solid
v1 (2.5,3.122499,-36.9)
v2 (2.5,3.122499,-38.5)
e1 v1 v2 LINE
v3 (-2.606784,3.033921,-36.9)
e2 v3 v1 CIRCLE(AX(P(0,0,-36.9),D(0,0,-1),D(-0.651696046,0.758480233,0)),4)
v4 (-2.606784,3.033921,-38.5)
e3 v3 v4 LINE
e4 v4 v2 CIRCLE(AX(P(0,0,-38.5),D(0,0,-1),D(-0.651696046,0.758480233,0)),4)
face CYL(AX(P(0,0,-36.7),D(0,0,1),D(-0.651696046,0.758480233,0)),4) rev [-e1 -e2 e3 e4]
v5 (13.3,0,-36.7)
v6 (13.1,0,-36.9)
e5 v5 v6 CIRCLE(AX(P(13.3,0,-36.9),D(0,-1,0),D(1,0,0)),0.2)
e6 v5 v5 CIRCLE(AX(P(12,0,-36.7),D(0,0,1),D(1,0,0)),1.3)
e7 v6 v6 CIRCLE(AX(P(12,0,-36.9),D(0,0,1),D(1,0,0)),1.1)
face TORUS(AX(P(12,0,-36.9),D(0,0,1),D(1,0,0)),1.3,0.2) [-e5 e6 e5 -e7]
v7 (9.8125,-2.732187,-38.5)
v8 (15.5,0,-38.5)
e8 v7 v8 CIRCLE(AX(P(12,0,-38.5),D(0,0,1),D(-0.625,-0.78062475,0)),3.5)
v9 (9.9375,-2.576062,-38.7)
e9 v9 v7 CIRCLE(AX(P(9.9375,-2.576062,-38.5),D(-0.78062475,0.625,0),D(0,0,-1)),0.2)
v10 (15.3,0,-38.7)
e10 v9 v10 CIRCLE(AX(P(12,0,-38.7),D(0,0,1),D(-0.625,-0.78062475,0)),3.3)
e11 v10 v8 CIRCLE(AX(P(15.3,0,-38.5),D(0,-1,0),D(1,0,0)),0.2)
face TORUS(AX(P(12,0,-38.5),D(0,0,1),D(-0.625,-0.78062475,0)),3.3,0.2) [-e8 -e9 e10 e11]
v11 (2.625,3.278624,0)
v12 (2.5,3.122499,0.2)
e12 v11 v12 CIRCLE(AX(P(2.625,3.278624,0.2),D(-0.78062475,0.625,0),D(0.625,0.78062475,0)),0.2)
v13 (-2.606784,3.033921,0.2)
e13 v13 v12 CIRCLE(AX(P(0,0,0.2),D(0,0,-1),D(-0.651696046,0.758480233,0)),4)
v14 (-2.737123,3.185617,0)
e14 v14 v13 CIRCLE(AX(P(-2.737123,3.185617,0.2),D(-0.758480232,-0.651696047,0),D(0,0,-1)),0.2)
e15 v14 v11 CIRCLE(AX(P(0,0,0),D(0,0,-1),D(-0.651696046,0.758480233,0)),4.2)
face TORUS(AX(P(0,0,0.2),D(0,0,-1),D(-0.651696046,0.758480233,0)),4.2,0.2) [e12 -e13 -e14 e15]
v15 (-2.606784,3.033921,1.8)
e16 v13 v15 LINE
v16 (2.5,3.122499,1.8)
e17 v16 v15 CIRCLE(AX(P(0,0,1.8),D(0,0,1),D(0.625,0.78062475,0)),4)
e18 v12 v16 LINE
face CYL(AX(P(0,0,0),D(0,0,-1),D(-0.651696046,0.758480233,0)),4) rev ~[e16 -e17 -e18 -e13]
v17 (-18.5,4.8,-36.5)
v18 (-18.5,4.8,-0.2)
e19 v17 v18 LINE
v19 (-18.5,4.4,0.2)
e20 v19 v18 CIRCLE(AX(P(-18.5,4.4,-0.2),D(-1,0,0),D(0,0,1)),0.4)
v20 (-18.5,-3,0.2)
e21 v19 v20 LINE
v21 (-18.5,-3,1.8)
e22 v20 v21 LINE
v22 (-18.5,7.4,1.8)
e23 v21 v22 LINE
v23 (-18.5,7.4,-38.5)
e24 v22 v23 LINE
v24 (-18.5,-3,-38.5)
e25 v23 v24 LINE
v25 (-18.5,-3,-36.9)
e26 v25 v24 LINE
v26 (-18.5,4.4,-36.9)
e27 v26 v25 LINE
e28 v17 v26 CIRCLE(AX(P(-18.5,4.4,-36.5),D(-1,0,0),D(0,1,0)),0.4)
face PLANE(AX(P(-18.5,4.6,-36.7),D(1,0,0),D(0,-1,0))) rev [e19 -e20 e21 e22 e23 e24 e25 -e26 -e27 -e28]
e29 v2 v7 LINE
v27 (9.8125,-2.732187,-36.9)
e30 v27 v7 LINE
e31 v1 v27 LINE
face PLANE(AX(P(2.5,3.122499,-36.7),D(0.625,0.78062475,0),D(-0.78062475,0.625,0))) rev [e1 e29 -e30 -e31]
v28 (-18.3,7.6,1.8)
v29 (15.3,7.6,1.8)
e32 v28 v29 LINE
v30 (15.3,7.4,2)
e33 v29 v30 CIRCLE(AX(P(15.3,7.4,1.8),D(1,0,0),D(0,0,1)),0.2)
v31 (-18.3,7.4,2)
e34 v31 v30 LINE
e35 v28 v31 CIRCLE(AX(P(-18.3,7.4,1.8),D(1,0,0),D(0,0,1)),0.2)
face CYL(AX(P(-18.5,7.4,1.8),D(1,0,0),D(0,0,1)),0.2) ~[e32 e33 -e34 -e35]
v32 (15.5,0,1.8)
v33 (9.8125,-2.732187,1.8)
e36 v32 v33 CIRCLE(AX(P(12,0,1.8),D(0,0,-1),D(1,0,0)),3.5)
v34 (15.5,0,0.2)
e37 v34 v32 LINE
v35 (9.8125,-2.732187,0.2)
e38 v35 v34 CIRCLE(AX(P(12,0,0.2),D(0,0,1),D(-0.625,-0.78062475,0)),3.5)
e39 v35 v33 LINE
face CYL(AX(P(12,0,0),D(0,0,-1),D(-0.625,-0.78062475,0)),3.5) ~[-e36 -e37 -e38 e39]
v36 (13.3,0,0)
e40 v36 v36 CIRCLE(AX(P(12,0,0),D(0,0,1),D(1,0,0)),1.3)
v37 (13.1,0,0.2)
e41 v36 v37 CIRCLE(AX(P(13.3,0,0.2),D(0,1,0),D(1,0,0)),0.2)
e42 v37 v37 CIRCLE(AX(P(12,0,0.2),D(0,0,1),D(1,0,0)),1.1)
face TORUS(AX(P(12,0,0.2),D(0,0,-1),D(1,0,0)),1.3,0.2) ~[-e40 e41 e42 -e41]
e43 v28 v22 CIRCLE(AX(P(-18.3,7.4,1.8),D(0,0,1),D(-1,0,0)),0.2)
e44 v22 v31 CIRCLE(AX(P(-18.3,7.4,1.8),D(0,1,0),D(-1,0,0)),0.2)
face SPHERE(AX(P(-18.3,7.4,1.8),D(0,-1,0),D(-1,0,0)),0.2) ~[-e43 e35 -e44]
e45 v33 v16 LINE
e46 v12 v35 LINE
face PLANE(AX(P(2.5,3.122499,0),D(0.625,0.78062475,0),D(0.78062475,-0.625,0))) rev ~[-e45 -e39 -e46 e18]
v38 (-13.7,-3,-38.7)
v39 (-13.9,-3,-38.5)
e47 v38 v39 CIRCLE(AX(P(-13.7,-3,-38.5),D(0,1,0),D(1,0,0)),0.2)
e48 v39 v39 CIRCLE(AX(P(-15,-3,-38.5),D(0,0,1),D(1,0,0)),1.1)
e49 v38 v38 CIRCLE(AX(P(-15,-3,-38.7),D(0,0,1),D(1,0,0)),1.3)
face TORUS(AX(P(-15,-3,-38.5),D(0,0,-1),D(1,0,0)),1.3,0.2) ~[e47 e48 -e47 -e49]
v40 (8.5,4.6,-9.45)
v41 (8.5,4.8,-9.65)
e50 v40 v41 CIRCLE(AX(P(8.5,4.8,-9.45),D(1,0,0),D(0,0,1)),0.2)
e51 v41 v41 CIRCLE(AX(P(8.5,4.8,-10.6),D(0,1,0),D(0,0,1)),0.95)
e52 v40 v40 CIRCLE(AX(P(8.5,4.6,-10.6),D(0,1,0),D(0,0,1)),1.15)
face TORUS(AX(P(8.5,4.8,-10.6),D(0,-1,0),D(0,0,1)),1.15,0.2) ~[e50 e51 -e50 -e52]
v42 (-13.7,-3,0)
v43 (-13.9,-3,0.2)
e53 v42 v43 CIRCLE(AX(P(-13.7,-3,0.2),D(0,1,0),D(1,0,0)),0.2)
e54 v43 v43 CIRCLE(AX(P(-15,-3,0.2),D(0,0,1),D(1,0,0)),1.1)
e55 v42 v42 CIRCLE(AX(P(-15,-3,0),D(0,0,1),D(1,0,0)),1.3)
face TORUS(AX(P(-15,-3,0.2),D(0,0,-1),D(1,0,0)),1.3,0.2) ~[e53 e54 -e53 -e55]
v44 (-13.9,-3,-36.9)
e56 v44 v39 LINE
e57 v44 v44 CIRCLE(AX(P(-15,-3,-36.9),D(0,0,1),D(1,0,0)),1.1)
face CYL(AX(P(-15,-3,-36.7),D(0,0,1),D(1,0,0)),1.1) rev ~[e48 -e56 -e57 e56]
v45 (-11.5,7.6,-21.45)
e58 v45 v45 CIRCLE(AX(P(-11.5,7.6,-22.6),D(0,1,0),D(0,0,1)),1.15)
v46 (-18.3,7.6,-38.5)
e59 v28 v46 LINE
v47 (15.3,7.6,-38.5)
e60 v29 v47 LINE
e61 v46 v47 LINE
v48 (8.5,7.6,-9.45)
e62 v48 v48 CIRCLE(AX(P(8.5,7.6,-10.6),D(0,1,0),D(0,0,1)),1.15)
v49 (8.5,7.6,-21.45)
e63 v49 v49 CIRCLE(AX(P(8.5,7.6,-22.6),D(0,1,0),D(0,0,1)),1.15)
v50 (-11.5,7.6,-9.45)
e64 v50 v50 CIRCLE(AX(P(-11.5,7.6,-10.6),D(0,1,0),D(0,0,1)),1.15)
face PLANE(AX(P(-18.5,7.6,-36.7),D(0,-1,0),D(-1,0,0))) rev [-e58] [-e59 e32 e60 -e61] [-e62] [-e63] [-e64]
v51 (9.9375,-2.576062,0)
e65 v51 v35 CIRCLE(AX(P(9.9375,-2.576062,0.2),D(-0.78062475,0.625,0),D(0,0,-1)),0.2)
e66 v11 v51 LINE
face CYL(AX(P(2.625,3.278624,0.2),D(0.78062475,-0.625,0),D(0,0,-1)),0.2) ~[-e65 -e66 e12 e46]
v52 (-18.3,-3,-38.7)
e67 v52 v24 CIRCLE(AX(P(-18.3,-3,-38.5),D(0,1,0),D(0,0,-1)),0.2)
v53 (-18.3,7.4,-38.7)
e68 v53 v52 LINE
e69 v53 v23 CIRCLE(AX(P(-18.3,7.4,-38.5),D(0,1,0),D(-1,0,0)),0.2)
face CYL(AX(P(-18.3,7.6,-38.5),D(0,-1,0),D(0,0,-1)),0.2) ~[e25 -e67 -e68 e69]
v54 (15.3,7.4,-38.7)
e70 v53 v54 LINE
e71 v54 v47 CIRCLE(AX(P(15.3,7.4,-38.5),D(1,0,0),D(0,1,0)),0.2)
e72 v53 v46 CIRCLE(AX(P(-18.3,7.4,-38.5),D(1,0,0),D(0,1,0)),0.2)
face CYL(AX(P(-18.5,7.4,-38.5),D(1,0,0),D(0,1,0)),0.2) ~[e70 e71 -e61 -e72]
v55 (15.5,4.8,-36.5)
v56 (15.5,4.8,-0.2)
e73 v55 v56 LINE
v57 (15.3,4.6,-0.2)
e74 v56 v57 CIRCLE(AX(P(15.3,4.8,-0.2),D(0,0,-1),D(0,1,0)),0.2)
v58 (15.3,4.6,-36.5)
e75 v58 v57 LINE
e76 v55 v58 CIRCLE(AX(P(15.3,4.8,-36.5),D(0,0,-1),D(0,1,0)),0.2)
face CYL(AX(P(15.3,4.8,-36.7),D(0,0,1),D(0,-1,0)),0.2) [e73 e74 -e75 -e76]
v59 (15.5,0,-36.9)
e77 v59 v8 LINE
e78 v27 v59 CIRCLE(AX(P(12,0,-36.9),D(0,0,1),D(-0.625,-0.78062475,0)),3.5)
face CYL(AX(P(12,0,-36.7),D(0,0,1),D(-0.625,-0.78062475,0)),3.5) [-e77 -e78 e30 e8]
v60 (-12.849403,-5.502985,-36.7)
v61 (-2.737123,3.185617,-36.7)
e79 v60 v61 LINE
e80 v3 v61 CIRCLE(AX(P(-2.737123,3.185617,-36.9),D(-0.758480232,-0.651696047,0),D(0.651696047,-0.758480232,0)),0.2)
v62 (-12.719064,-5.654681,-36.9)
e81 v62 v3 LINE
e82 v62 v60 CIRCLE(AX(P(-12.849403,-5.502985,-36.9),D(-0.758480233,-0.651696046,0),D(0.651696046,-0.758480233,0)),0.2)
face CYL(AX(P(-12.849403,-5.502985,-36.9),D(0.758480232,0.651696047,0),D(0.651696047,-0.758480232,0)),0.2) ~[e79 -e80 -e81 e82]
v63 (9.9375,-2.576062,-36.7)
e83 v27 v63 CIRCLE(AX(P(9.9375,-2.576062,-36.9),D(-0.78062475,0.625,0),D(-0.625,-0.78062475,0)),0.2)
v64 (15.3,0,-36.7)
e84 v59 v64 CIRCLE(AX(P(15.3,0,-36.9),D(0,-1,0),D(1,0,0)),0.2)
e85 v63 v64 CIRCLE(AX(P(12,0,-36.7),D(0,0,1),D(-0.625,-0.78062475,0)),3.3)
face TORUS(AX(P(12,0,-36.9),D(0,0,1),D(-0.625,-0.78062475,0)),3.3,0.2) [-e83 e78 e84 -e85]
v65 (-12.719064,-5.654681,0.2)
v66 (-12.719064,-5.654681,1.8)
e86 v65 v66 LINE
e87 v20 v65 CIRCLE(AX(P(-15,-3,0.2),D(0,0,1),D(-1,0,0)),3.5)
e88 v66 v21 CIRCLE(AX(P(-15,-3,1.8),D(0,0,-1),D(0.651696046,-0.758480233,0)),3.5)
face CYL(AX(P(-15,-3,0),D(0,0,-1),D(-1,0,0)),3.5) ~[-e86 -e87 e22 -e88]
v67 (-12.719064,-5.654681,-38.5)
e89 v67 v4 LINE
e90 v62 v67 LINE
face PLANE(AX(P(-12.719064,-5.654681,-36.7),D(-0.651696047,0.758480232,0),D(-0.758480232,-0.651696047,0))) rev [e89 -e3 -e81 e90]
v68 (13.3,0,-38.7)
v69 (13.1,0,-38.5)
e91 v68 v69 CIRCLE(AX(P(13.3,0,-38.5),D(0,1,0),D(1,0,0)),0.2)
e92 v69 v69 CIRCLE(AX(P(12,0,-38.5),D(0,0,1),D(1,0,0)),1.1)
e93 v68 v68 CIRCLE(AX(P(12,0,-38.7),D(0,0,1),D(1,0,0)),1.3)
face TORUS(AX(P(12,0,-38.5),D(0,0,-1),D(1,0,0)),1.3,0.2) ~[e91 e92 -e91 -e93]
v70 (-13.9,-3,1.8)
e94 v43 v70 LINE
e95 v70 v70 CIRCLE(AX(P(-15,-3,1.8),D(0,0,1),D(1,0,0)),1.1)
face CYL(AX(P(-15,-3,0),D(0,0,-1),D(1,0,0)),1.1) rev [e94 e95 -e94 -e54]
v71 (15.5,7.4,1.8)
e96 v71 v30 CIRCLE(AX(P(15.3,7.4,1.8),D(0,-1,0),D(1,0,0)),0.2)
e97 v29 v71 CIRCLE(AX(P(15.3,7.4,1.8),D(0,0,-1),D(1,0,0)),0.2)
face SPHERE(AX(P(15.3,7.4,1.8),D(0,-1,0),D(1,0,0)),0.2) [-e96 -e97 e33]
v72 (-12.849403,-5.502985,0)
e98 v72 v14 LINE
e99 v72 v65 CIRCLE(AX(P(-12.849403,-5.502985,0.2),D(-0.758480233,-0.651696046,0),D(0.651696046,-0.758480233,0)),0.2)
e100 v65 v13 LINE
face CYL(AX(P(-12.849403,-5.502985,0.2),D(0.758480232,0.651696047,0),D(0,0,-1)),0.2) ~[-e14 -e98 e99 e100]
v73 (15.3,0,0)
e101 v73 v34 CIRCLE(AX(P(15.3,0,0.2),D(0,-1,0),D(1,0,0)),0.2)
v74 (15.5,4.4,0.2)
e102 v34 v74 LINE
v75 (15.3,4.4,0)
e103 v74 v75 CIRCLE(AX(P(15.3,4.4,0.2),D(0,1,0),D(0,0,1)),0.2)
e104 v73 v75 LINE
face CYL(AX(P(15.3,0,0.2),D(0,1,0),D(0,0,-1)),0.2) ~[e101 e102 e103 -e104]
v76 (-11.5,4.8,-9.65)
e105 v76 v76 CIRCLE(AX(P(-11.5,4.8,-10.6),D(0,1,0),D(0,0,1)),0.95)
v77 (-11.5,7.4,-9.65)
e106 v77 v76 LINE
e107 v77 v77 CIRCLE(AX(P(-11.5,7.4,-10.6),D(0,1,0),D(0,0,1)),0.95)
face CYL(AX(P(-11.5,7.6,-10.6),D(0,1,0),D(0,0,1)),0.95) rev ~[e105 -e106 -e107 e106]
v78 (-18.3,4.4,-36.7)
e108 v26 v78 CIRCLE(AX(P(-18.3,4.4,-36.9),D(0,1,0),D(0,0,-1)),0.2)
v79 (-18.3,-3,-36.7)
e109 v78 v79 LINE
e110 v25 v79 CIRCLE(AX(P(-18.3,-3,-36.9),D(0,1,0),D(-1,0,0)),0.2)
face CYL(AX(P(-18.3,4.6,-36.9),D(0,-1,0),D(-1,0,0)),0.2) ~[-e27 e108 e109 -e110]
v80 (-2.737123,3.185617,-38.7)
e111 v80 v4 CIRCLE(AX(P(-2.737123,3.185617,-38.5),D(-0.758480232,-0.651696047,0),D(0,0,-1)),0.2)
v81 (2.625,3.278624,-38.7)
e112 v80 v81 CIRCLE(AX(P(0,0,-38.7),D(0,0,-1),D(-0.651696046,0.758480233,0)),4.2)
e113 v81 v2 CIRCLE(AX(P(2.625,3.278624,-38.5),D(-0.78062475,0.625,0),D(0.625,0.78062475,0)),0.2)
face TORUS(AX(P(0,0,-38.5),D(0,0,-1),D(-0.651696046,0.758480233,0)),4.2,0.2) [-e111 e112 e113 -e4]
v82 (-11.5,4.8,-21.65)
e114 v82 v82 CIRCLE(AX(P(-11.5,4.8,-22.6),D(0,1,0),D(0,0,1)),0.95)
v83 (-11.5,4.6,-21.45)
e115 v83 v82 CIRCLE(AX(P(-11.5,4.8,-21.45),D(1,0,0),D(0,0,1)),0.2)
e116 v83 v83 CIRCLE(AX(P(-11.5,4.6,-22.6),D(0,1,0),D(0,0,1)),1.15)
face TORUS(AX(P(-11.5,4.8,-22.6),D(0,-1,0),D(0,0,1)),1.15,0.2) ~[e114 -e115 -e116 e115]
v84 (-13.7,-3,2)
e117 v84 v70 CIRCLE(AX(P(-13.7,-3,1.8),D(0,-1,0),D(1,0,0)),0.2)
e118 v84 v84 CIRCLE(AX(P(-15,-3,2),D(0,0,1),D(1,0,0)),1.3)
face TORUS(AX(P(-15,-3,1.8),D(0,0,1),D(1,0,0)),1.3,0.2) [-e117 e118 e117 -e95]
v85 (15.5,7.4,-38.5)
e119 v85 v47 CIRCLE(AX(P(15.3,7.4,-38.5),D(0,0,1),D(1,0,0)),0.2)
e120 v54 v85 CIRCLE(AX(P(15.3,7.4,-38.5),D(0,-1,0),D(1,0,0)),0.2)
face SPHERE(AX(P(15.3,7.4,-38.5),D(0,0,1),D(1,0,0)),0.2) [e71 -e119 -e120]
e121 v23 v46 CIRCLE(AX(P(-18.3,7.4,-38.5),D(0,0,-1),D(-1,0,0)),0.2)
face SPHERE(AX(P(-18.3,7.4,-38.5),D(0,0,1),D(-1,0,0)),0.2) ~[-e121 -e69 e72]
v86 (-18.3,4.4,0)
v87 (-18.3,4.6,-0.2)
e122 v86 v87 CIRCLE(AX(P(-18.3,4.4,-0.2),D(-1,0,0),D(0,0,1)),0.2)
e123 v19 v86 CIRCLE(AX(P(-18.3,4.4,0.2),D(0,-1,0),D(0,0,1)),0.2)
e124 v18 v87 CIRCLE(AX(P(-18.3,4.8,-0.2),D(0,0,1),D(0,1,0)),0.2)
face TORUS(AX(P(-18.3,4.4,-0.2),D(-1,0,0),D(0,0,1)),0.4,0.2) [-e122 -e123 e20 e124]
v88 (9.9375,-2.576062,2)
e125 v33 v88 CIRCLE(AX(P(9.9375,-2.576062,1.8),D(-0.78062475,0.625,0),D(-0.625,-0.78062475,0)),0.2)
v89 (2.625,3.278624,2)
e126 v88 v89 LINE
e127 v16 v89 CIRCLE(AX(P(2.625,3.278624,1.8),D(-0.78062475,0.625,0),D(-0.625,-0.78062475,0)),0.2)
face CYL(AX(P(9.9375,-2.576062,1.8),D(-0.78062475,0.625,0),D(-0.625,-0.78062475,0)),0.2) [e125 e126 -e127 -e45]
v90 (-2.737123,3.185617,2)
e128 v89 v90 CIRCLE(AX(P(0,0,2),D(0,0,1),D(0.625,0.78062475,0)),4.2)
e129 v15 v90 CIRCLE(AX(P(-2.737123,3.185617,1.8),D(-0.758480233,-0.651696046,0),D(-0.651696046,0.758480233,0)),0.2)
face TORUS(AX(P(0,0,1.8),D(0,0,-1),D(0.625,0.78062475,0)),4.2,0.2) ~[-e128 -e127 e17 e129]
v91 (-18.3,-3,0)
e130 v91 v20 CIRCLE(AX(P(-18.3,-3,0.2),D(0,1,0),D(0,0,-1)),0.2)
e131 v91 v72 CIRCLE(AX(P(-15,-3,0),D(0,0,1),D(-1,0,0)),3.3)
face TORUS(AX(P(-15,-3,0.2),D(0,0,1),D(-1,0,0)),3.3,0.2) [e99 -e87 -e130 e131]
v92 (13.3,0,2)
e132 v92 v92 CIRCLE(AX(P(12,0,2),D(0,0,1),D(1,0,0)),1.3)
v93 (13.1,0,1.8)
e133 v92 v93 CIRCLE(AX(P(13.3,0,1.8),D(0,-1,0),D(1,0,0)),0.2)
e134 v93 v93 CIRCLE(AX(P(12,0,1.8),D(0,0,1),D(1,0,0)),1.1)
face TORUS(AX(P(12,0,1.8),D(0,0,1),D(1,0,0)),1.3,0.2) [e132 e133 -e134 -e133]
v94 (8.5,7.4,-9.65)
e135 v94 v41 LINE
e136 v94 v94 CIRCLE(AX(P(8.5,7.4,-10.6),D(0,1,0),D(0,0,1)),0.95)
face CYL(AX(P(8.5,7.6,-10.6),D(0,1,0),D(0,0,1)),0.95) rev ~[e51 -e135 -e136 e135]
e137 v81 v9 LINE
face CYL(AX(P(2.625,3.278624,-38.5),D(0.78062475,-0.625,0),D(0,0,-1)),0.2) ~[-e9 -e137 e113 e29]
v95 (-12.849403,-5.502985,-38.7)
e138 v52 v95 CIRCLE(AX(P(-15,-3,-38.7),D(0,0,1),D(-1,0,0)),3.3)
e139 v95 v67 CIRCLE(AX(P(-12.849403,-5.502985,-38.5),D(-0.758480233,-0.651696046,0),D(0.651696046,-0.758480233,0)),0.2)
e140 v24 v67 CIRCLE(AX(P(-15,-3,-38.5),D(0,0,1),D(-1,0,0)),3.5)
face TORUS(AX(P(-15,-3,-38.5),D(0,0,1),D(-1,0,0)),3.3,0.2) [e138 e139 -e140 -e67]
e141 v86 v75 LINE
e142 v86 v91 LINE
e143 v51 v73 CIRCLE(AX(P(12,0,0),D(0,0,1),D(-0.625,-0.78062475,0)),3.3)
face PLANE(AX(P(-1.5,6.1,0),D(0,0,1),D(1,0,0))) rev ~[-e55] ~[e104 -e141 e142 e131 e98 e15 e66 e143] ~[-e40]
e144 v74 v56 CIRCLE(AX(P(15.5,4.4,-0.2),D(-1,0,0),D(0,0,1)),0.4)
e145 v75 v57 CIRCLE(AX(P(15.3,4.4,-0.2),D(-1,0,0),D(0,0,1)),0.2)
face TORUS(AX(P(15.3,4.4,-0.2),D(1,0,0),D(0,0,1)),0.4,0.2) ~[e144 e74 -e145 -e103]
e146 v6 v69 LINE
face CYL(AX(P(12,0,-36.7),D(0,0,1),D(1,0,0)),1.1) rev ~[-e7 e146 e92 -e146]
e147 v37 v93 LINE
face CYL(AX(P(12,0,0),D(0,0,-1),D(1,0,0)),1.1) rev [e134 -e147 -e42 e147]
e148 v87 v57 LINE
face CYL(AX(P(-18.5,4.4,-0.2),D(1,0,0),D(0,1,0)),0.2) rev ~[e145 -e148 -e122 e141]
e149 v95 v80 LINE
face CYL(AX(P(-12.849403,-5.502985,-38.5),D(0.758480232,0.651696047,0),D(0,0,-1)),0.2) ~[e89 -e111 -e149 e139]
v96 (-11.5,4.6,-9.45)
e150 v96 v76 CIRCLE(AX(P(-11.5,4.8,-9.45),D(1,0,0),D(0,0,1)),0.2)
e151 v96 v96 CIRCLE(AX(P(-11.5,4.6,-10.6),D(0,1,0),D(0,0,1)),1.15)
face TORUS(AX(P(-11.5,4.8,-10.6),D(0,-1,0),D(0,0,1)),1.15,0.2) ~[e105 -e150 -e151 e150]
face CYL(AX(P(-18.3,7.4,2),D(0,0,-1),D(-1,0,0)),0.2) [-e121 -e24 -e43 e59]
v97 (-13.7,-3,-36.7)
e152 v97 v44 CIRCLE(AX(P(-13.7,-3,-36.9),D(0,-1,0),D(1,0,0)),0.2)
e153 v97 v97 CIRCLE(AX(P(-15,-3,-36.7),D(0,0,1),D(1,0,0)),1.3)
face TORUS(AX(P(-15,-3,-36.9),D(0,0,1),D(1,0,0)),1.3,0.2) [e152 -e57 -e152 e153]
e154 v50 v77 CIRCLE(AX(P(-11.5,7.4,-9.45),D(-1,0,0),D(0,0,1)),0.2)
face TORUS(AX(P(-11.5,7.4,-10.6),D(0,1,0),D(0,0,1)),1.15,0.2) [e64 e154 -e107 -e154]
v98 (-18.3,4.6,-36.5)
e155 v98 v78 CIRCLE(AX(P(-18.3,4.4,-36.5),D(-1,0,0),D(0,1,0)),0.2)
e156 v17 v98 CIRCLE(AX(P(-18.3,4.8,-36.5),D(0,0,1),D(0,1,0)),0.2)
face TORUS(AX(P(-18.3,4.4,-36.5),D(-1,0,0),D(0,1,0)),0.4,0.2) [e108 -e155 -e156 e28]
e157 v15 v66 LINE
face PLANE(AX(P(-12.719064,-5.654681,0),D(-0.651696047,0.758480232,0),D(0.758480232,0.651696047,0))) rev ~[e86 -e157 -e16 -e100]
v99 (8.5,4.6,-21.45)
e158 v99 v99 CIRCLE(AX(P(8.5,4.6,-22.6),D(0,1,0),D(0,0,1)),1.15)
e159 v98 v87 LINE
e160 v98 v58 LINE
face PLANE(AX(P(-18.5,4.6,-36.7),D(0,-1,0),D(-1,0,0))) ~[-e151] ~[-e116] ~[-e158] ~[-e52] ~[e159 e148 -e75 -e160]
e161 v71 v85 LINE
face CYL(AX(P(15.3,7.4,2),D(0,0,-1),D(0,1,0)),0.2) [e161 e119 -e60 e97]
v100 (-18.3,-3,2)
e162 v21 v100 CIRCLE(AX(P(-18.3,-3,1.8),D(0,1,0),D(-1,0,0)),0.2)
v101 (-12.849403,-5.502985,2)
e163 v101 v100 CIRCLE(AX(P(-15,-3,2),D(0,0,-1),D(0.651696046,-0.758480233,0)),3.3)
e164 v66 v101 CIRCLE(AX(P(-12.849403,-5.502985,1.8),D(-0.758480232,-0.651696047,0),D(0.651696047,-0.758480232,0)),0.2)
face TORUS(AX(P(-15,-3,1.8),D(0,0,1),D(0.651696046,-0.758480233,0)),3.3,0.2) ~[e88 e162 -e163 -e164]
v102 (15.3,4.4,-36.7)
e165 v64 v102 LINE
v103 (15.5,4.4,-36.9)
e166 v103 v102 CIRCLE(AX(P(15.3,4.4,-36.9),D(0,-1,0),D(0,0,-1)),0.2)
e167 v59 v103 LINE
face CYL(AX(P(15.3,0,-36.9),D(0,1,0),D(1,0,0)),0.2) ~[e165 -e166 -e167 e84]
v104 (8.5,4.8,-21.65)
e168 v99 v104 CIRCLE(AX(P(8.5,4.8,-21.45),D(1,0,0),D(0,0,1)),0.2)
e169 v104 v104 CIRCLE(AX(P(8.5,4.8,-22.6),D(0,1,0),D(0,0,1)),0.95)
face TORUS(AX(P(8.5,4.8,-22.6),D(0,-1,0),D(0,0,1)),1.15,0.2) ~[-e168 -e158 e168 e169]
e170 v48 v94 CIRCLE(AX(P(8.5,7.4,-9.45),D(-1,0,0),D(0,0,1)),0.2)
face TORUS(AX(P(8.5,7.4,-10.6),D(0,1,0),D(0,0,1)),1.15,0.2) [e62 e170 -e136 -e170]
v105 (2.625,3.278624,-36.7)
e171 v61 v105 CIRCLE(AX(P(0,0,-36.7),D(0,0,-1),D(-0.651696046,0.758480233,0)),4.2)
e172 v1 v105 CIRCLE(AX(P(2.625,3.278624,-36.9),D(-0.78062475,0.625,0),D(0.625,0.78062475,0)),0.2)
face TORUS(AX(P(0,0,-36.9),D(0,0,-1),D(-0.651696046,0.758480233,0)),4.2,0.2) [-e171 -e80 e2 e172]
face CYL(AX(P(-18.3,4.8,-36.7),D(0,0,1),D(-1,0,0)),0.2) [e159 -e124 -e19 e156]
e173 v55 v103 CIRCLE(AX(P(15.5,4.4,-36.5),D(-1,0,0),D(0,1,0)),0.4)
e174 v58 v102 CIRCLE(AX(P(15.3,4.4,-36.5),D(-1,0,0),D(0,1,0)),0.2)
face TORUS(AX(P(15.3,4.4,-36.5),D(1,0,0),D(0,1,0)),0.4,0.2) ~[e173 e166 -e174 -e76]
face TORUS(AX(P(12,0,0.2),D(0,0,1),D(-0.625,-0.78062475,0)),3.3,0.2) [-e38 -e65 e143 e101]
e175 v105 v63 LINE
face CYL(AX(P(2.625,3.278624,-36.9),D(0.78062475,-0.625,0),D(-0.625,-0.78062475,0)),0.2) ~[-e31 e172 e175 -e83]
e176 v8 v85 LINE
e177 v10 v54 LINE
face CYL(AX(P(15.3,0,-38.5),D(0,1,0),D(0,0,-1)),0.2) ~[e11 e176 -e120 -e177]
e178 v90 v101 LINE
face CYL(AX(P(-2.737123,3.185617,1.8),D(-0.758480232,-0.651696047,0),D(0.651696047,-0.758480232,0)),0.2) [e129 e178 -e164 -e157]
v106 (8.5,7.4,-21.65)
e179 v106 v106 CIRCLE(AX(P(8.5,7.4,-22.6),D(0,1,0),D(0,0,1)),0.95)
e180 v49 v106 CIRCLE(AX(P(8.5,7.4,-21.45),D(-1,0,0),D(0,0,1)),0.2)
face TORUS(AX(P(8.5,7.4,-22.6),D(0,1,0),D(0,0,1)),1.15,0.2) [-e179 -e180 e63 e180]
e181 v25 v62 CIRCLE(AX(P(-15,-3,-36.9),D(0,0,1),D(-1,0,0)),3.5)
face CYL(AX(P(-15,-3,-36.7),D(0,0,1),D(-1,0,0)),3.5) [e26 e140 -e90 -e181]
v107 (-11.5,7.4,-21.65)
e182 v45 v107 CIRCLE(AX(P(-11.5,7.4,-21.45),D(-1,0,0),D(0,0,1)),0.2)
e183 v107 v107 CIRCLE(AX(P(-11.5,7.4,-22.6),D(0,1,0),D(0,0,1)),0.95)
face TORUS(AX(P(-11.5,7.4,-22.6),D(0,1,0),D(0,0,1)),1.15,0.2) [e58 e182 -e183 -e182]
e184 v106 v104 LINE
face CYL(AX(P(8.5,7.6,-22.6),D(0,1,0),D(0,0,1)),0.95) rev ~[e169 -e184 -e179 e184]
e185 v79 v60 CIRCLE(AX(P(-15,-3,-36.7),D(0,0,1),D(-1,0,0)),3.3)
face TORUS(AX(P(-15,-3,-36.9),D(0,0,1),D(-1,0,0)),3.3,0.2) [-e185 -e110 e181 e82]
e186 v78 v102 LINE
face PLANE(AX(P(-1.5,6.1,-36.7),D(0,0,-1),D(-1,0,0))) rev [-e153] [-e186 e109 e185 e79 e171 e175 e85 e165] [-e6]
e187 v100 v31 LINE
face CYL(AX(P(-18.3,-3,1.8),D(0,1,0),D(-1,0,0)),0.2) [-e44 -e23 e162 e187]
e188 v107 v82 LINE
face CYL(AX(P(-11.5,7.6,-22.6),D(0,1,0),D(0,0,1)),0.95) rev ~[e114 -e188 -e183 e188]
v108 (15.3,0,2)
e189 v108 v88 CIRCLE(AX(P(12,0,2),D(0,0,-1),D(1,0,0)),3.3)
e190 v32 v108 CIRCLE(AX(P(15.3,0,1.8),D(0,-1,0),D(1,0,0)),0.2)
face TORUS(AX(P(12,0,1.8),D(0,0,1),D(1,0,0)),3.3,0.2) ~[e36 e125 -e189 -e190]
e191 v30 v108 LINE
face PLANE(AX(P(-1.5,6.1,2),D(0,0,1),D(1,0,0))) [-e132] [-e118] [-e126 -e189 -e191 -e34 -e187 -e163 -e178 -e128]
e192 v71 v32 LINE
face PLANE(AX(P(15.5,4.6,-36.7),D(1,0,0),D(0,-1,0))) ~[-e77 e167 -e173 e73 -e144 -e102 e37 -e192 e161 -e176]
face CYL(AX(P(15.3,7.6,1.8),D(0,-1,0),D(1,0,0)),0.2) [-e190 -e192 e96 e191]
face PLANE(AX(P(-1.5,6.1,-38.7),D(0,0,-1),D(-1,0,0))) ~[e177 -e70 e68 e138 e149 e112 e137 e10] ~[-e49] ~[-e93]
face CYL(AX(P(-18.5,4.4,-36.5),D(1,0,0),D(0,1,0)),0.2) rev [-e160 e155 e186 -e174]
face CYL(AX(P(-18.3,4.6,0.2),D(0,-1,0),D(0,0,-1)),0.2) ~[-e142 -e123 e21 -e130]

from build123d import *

# Parameters (mm, degrees)
SKETCH_1_R          = 1.1
EXTRUDE_1_DEPTH     = 2
SKETCH_1_3_W        = 34
SKETCH_1_3_H        = 3
EXTRUDE_2_DEPTH     = 18.35
SKETCH_2_R          = 0.95
CUT_EXTRUDE_1_DEPTH = 46.15251931
FILLET_1_R          = 0.2


with BuildPart() as part:
    # 스케치1 → 보스-돌출1 (new body)
    with BuildSketch(Plane.XY):
        with BuildLine():
            ThreePointArc((-18.5, -3), (-16.460603203, -6.180666327), (-12.719063837, -5.654680814))
            Line((-12.719063837, -5.654680814), (-2.606784186, 3.03392093))
            ThreePointArc((-2.606784186, 3.03392093), (-0.069370269, 3.999398425), (2.5, 3.122498999))
            Line((2.5, 3.122498999), (9.8125, -2.732186624))
            ThreePointArc((9.8125, -2.732186624), (13.515544457, -3.154857366), (15.5, 0))
            Line((15.5, 0), (15.5, 7.6))
            Line((15.5, 7.6), (-18.5, 7.6))
            Line((-18.5, 7.6), (-18.5, -3))
        make_face()
        with Locations((-15, -3)):
            Circle(SKETCH_1_R, mode=Mode.SUBTRACT)
        with Locations((12, 0)):
            Circle(SKETCH_1_R, mode=Mode.SUBTRACT)
    extrude(amount=EXTRUDE_1_DEPTH)

    # 스케치1<3> → 보스-돌출2 (add)
    with BuildSketch(Plane.XY):
        with Locations((-1.5, 6.1)):
            Rectangle(SKETCH_1_3_W, SKETCH_1_3_H)
    extrude(amount=-EXTRUDE_2_DEPTH)

    # 대칭 복사1: part across plane


with BuildPart() as part_1:
    add(part.part)
    add(part.part.mirror(Plane.XY.offset(-18.35)))

    # 스케치2 → 컷-돌출1 (cut, through all)
    with BuildSketch(Plane(origin=(0, 7.6, 0), x_dir=(1, 0, 0), z_dir=(0, 1, 0))):
        with Locations((8.5, 10.6)):
            Circle(SKETCH_2_R)
        with Locations((8.5, 22.6)):
            Circle(SKETCH_2_R)
        with Locations((-11.5, 22.6)):
            Circle(SKETCH_2_R)
        with Locations((-11.5, 10.6)):
            Circle(SKETCH_2_R)
    extrude(amount=-CUT_EXTRUDE_1_DEPTH, mode=Mode.SUBTRACT)

    # 필렛1
    fillet_1_edges = [part_1.edges().sort_by_distance(p)[0] for p in [
        (-16.460603203, -6.180666327, 0),
        (-7.662924012, -1.310379942, 0),
        (-0.069370269, 3.999398425, 0),
        (6.15625, 0.195156187, 0),
        (13.515544457, -3.154857366, 0),
        (15.5, 2.3, 0),
        (-18.5, 0.8, 0),
        (-16.1, -3, 0),
        (10.9, 0, 0),
        (15.5, 2.3, -36.7),
        (13.515544457, -3.154857366, -36.7),
        (6.15625, 0.195156187, -36.7),
        (-0.069370269, 3.999398425, -36.7),
        (-7.662924012, -1.310379942, -36.7),
        (-16.460603203, -6.180666327, -36.7),
        (-18.5, 0.8, -36.7),
        (-16.1, -3, -36.7),
        (10.9, 0, -36.7),
        (-16.460603203, -6.180666327, -38.7),
        (-7.662924012, -1.310379942, -38.7),
        (-0.069370269, 3.999398425, -38.7),
        (6.15625, 0.195156187, -38.7),
        (13.515544457, -3.154857366, -38.7),
        (15.5, 3.8, -38.7),
        (-18.5, 2.3, -38.7),
        (-16.1, -3, -38.7),
        (10.9, 0, -38.7),
        (15.5, 4.6, -18.35),
        (-1.5, 4.6, -36.7),
        (-18.5, 4.6, -18.35),
        (-1.5, 4.6, 0),
        (7.55, 4.6, -10.6),
        (7.55, 4.6, -22.6),
        (-12.45, 4.6, -22.6),
        (-12.45, 4.6, -10.6),
        (15.5, 3.8, 2),
        (13.515544457, -3.154857366, 2),
        (6.15625, 0.195156187, 2),
        (-0.069370269, 3.999398425, 2),
        (-7.662924012, -1.310379942, 2),
        (-16.460603203, -6.180666327, 2),
        (-18.5, 2.3, 2),
        (-16.1, -3, 2),
        (10.9, 0, 2),
        (-1.5, 7.6, 2),
        (-18.5, 7.6, -18.35),
        (-1.5, 7.6, -38.7),
        (15.5, 7.6, -18.35),
        (7.55, 7.6, -10.6),
        (7.55, 7.6, -22.6),
        (-12.45, 7.6, -22.6),
        (-12.45, 7.6, -10.6),
    ]]
    fillet(fillet_1_edges, radius=FILLET_1_R)


solid = part_1.part
